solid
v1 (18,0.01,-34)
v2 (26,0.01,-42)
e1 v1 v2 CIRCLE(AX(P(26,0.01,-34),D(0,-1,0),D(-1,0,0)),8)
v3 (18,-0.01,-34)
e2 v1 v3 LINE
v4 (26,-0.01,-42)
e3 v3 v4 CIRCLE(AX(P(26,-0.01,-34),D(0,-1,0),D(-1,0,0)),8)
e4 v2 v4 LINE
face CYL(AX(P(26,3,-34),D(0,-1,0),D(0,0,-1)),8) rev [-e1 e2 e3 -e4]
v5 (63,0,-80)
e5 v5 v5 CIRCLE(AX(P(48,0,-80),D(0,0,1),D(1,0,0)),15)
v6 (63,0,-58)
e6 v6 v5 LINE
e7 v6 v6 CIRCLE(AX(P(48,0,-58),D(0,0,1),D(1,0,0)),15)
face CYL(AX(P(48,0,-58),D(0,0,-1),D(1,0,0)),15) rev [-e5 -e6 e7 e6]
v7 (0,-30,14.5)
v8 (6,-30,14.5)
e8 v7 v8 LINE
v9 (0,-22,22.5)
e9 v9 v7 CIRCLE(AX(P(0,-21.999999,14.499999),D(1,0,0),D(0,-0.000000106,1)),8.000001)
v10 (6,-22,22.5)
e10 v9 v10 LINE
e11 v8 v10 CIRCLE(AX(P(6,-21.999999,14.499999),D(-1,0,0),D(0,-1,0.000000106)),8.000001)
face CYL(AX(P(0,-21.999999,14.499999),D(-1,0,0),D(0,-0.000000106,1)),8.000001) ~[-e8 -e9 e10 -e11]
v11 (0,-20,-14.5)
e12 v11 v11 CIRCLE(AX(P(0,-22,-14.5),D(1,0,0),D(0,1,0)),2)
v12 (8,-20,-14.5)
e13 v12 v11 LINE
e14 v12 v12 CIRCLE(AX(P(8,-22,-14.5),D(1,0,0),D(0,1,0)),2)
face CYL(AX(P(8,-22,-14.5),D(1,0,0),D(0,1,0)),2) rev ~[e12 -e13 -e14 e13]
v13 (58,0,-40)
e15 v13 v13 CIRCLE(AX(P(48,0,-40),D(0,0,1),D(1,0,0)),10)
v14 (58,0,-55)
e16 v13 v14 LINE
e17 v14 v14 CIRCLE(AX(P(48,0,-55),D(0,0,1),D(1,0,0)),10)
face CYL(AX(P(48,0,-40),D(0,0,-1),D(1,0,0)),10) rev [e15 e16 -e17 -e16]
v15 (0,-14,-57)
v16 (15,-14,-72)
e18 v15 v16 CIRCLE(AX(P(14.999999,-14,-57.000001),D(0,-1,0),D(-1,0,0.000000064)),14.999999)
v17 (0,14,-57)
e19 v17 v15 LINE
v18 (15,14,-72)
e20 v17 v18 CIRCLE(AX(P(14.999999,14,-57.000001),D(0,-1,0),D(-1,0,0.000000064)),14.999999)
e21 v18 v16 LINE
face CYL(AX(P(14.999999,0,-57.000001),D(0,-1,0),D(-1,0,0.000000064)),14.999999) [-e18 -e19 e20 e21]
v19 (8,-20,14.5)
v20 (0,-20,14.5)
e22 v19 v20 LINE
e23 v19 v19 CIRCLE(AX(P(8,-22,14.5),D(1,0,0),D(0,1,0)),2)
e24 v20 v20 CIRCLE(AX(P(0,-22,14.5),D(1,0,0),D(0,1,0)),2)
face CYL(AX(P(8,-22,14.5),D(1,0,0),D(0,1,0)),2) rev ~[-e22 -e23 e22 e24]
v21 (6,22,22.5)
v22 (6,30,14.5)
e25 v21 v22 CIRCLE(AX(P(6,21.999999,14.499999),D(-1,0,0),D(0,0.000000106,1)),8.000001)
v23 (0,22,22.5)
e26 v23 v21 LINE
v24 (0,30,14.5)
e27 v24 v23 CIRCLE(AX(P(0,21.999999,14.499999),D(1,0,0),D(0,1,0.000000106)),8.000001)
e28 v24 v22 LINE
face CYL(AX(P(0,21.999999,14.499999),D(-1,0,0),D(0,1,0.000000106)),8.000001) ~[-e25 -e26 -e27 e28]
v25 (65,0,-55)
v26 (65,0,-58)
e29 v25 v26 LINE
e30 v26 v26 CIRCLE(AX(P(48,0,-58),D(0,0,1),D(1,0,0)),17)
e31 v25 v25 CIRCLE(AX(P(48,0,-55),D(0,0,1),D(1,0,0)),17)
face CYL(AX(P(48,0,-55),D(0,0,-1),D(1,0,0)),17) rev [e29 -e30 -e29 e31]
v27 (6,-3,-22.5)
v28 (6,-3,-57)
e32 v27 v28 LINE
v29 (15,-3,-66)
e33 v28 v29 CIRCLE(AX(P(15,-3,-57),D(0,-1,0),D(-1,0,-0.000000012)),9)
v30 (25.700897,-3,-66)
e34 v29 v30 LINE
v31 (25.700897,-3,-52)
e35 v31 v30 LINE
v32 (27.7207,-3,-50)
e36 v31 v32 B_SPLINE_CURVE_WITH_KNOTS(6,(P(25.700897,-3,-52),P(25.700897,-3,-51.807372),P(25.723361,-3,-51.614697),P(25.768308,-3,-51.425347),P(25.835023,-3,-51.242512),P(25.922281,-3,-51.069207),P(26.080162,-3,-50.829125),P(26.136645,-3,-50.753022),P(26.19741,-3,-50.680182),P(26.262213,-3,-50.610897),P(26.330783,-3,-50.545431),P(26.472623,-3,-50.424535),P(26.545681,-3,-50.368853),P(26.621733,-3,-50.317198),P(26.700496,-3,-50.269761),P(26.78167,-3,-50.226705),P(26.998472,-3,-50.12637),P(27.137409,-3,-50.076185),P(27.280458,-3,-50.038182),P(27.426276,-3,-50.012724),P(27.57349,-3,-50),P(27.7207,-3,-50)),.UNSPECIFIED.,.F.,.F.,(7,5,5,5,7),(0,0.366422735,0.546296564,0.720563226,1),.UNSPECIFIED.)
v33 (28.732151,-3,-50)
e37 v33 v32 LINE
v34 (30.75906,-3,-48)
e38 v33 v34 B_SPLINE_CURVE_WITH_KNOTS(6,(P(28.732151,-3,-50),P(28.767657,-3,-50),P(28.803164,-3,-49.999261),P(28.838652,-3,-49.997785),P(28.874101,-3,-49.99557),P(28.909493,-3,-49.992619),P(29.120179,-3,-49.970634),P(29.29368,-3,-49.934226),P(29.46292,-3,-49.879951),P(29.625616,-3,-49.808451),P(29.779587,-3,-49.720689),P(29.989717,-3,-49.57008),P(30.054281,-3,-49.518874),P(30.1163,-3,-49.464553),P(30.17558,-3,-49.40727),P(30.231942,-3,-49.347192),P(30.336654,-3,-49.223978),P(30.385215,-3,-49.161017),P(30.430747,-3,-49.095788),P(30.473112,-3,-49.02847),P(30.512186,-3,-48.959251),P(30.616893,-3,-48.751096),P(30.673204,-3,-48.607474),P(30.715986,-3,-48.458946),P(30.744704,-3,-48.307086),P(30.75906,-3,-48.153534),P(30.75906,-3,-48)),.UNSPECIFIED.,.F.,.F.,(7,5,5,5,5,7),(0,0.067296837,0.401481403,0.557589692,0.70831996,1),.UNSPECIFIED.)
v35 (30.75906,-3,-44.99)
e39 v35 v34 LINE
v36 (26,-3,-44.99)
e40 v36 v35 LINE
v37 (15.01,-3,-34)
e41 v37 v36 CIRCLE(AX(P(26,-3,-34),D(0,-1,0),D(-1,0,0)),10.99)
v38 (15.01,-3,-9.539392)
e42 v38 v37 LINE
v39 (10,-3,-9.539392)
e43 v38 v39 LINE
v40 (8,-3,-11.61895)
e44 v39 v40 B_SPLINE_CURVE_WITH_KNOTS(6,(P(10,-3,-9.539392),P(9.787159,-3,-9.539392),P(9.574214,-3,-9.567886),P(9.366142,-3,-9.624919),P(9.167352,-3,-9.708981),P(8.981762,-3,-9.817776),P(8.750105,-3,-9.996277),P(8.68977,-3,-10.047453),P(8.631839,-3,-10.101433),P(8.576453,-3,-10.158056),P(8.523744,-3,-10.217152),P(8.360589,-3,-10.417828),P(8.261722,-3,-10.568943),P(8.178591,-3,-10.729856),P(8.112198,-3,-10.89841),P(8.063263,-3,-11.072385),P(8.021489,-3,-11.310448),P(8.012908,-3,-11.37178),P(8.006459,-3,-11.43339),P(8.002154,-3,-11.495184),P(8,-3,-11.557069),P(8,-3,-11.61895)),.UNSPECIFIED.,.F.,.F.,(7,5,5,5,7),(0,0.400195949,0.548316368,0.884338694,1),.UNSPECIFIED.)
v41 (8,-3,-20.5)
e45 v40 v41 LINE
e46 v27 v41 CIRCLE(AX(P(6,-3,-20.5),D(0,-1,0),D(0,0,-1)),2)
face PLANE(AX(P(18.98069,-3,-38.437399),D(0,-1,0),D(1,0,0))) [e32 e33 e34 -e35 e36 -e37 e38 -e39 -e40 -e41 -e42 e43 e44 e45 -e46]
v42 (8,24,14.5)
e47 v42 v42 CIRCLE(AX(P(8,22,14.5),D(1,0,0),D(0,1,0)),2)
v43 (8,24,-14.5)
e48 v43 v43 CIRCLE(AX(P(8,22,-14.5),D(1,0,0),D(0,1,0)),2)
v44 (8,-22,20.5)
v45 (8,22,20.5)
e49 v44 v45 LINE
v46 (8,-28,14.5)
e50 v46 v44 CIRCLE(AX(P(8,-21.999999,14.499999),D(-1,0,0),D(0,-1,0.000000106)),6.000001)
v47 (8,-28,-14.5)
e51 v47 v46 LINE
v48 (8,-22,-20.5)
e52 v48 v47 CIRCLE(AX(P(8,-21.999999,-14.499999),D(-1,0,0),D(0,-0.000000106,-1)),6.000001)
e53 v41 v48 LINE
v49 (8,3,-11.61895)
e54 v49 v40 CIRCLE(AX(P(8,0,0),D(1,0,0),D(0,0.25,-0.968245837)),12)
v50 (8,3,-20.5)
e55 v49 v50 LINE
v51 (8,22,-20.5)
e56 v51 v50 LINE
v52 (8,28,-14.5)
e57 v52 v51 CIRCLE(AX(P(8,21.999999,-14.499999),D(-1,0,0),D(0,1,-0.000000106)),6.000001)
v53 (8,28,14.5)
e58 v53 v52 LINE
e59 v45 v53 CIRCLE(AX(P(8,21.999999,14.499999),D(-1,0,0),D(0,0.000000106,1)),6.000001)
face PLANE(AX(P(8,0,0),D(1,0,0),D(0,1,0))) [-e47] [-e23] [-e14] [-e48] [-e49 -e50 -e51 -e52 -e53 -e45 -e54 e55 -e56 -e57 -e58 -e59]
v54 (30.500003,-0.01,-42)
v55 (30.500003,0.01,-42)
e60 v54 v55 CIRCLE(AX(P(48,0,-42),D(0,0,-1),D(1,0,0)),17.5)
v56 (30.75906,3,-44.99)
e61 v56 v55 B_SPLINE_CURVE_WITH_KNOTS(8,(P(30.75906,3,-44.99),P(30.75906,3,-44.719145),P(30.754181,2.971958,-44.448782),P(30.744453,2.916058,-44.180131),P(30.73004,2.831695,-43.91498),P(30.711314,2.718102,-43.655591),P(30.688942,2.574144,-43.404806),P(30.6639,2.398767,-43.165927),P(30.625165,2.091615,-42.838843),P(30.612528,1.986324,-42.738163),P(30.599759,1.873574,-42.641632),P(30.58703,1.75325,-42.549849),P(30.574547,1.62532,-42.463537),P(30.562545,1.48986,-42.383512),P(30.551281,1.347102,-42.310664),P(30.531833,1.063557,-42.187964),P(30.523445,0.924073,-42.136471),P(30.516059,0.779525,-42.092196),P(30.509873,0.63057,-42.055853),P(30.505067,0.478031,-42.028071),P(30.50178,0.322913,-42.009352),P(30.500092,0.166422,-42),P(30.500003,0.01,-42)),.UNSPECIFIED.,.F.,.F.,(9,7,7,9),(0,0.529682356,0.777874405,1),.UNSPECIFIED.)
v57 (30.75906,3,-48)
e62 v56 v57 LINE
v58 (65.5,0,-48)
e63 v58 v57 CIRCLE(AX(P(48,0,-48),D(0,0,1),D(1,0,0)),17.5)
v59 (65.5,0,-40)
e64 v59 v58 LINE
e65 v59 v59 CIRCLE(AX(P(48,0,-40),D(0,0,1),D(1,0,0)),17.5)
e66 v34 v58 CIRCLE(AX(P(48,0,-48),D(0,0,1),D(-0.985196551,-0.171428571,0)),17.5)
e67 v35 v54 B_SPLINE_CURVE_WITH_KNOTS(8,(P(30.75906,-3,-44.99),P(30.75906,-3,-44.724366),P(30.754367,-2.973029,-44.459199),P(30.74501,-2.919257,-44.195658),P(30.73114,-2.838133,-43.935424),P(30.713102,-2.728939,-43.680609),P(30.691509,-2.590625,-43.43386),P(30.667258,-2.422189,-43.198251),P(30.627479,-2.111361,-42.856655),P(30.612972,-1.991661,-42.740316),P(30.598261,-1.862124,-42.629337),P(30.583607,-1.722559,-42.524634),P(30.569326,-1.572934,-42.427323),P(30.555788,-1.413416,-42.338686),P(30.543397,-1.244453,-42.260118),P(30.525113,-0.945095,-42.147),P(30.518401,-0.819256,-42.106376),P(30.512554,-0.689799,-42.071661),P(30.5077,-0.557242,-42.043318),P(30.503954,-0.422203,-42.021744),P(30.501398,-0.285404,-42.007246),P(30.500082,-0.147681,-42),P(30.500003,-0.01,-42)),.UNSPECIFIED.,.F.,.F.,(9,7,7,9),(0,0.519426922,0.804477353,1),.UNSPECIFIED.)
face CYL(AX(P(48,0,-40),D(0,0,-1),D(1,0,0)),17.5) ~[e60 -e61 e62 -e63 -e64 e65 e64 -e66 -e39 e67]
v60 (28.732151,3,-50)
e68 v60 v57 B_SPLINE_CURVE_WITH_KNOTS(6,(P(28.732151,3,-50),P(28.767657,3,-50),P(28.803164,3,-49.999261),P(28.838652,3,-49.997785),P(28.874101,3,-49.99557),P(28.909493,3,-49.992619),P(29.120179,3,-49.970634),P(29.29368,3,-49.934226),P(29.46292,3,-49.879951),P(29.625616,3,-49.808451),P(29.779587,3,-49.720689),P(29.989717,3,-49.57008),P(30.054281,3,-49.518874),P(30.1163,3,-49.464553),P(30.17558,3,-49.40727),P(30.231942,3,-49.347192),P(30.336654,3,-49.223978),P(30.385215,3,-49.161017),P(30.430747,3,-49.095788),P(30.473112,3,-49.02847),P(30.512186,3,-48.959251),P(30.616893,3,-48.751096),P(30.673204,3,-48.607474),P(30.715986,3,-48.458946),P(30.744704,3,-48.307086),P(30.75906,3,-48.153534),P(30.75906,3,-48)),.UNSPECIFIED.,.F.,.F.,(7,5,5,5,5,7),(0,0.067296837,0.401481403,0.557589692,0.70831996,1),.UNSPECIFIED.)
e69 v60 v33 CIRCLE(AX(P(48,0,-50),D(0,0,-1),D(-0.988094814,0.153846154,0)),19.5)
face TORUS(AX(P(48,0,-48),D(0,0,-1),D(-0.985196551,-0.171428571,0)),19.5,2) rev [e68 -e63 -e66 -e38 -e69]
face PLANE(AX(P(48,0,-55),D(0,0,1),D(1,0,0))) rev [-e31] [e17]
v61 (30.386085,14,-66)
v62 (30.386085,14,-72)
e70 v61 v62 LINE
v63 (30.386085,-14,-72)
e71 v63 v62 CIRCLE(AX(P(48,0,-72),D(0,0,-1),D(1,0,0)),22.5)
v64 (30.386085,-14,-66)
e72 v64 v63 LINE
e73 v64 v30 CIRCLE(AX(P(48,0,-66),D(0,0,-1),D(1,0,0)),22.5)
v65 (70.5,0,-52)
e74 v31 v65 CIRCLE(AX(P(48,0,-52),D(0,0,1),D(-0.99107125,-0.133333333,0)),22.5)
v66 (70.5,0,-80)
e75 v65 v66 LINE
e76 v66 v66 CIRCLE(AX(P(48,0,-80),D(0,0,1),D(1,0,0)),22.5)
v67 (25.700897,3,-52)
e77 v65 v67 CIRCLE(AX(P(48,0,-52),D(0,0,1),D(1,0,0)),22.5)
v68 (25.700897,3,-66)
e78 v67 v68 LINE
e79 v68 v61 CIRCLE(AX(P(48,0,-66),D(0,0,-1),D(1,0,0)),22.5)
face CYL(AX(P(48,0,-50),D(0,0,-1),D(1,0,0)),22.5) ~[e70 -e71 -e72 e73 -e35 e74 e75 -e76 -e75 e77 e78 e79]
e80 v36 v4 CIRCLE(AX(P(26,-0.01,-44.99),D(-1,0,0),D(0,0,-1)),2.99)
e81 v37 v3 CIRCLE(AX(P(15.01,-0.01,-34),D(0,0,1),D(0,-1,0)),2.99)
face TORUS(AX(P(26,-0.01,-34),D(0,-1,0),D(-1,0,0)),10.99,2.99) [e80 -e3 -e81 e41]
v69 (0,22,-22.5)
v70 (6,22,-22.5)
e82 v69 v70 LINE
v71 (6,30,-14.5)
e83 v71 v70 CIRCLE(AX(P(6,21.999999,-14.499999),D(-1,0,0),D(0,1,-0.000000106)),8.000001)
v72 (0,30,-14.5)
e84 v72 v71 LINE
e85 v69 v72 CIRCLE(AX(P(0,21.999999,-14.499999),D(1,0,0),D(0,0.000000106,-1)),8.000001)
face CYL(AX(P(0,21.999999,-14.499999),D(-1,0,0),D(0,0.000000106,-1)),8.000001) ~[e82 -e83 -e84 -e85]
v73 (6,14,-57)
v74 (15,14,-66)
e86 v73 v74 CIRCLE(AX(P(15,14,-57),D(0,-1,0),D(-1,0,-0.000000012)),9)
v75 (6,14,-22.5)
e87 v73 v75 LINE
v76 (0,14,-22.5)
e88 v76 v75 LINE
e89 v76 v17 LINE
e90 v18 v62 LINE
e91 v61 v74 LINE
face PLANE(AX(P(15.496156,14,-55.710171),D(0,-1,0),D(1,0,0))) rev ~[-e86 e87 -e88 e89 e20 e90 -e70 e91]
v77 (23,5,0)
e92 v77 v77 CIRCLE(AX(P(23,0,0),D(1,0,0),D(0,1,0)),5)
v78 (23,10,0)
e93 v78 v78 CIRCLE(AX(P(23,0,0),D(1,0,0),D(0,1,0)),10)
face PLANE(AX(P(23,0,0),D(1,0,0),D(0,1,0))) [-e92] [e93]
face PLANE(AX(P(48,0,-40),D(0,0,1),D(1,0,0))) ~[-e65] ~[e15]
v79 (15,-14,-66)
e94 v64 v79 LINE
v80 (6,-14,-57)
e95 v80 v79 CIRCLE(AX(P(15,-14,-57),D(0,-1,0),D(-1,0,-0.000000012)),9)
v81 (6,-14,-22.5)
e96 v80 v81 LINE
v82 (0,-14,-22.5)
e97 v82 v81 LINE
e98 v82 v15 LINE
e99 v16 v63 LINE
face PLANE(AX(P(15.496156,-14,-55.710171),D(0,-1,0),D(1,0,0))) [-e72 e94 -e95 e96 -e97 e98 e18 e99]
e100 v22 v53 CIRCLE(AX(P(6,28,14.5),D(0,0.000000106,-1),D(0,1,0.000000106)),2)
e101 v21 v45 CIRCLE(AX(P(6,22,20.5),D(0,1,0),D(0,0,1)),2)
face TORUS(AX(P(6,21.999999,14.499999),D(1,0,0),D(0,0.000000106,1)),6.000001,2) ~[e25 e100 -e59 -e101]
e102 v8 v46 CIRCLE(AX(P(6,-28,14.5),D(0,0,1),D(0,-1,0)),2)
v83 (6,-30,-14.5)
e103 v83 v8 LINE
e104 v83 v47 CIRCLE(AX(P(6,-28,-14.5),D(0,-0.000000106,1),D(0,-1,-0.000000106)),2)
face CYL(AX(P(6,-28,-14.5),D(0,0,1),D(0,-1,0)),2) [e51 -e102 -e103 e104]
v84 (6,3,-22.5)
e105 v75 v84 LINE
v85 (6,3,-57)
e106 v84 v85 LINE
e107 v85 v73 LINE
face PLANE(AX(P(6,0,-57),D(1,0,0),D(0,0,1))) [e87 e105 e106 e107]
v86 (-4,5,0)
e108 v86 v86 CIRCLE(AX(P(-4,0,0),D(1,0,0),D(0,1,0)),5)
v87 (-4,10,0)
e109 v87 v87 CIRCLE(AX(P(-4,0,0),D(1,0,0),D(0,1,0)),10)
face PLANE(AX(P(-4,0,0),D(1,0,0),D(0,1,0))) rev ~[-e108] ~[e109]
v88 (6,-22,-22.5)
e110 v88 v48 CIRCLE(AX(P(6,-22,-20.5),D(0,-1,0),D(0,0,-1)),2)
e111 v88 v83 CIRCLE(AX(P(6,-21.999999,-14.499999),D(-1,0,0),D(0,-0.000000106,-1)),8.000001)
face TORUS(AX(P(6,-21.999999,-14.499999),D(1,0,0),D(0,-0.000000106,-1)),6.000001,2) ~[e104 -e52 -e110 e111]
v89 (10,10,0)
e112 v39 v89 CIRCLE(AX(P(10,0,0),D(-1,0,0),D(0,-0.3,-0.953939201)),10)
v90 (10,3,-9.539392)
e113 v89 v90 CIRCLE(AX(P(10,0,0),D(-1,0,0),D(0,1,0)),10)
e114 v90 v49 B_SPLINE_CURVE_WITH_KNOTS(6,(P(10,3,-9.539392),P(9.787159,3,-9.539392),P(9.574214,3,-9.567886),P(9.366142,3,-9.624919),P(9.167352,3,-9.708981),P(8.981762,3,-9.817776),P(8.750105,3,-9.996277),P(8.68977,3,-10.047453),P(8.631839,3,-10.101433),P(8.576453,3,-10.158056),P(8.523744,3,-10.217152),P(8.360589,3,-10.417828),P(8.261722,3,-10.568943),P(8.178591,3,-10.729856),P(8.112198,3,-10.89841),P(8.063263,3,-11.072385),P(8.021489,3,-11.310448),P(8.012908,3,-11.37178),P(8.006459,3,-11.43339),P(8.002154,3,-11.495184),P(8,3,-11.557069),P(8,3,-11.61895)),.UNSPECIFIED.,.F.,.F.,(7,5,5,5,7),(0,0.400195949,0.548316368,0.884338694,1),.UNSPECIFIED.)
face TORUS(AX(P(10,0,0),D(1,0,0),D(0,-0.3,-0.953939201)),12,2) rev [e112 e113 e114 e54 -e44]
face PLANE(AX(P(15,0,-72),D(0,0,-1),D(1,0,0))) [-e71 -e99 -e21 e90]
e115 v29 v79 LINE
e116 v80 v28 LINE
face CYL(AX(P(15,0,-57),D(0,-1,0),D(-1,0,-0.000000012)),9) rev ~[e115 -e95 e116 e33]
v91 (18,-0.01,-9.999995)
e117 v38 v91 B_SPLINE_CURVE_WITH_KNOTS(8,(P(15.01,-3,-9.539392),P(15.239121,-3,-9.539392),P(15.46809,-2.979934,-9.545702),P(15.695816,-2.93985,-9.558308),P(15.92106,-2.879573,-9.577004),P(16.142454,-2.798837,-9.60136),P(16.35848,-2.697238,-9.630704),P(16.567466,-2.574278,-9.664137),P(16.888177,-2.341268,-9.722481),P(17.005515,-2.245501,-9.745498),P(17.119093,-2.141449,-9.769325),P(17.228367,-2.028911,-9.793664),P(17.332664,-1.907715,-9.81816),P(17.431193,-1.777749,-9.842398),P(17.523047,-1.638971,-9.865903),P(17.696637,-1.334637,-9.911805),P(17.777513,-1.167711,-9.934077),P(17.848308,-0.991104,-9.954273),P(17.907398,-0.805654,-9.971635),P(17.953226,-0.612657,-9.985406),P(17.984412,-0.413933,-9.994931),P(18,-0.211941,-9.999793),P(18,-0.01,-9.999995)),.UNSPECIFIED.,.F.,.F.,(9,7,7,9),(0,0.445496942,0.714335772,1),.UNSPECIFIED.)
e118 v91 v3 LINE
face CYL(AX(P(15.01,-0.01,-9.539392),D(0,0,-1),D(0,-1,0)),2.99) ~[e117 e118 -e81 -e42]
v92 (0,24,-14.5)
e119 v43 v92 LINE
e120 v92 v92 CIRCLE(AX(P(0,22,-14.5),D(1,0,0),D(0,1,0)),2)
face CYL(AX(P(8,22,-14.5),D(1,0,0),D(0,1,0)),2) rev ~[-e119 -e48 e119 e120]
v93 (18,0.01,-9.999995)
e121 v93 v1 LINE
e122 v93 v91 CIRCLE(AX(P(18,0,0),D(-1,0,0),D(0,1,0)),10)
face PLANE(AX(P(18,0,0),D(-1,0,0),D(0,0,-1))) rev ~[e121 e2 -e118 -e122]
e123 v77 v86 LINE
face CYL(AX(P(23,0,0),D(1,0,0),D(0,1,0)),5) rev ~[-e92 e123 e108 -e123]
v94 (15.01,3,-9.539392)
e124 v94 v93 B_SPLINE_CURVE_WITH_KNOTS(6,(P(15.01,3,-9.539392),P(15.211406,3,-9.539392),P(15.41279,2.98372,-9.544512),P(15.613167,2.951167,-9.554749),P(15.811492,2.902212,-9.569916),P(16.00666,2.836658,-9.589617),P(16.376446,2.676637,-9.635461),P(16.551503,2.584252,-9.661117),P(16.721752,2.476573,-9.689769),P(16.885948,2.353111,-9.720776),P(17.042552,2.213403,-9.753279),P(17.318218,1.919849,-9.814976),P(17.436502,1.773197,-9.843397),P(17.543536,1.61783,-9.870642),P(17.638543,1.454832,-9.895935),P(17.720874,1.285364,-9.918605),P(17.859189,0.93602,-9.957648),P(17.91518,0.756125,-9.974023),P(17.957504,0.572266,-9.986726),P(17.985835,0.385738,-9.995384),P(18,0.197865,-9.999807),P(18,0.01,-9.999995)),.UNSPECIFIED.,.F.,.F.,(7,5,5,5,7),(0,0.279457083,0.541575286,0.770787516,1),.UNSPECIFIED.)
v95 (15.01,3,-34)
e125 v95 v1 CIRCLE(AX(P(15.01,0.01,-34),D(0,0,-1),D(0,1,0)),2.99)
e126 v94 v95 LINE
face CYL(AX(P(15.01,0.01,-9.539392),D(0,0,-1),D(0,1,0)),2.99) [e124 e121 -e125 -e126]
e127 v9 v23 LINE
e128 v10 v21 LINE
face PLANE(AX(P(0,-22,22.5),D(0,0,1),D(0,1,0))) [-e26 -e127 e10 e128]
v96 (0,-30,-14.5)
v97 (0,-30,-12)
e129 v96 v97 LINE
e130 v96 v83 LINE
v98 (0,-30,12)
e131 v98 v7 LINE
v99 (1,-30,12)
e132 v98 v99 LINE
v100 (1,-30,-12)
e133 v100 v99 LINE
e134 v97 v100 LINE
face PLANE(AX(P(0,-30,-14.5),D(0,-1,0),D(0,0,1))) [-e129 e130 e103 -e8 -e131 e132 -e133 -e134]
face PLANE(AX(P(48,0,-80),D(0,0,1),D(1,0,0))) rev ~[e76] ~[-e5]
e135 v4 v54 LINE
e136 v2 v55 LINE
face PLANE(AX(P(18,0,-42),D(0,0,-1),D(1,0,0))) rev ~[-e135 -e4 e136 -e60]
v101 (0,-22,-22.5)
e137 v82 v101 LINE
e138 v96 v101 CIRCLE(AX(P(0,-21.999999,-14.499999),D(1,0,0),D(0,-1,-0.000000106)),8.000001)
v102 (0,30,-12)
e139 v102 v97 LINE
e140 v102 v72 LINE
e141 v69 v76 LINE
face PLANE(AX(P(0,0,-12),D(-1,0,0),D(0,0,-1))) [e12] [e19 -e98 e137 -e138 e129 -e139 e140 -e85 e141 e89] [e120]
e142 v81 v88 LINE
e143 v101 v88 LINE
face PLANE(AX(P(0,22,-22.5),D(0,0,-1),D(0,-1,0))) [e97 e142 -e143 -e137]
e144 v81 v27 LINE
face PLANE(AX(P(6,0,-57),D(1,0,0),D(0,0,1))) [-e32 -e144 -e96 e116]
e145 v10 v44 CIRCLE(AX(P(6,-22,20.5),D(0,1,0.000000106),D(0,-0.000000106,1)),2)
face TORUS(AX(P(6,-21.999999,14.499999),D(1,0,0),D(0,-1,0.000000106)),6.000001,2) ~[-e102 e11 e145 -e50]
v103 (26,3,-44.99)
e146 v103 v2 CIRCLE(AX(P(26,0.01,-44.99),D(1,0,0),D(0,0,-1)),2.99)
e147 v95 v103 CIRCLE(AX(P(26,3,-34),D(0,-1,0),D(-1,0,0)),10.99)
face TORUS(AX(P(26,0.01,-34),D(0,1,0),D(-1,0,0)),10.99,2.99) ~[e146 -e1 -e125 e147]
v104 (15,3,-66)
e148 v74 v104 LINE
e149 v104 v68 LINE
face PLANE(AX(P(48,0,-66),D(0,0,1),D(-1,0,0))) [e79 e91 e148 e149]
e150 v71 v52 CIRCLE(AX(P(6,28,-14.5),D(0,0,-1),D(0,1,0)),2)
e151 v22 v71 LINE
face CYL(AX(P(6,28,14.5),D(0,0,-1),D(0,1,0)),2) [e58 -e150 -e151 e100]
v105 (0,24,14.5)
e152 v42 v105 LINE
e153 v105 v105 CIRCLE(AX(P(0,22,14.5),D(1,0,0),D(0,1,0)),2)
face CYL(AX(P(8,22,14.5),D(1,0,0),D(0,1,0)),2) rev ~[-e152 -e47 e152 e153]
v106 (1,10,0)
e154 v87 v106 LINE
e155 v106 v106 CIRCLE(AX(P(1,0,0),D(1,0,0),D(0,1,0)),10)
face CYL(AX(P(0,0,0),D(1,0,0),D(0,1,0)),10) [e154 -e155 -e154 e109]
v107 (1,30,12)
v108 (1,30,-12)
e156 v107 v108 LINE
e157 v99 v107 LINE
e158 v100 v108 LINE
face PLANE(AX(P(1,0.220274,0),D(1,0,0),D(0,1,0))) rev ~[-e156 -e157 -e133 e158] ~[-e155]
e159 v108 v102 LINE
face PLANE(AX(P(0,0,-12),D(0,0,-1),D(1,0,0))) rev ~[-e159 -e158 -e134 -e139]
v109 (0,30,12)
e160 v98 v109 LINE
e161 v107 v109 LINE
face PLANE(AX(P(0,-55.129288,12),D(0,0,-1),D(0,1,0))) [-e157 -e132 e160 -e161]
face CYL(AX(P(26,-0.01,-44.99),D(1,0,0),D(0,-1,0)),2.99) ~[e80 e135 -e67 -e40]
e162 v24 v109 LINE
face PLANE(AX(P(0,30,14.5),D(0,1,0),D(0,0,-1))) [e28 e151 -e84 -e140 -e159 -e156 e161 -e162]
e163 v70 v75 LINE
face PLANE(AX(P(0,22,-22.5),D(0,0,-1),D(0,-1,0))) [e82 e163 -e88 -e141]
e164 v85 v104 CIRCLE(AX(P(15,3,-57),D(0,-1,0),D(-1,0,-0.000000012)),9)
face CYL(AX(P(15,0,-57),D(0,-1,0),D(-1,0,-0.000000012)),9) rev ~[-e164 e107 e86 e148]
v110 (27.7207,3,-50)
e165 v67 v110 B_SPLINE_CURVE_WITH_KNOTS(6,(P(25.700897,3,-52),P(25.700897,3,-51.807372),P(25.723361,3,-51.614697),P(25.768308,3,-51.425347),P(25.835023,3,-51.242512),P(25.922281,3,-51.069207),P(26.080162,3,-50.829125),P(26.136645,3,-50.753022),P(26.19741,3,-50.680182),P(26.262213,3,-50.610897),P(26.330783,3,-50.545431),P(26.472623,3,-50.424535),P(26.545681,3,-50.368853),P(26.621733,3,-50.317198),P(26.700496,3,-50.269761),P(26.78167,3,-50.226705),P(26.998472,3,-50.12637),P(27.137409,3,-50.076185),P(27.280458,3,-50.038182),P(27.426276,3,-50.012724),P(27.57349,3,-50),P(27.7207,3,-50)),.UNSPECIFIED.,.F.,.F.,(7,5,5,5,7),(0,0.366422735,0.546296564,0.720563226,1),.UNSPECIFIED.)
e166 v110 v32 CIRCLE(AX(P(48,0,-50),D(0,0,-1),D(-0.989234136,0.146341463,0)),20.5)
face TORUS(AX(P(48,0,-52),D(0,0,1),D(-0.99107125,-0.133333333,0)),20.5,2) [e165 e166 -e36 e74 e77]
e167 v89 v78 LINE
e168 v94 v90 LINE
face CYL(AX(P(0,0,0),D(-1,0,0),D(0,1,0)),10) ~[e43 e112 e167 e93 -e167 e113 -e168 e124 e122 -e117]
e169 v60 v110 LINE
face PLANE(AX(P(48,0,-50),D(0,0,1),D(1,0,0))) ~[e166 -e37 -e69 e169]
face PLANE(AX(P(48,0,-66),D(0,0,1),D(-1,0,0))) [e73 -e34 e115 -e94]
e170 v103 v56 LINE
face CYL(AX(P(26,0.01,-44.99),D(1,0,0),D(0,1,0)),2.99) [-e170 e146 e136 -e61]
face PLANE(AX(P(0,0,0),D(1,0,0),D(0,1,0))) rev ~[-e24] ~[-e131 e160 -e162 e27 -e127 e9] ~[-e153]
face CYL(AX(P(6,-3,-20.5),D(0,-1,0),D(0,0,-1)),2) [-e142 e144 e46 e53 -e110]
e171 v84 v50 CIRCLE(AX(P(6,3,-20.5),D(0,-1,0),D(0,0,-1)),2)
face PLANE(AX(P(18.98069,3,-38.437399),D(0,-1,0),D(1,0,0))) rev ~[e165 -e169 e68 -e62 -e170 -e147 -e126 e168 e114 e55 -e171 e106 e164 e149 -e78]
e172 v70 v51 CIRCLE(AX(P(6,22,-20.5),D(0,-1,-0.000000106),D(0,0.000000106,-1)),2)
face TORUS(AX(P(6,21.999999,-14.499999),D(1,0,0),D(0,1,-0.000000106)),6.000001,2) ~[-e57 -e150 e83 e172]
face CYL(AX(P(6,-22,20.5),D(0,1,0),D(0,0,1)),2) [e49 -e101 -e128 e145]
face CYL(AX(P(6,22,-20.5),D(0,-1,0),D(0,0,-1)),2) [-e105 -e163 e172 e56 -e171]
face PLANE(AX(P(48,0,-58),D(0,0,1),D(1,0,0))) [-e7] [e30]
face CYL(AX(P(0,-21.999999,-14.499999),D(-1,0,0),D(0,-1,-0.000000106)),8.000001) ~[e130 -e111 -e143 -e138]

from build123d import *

# Parameters (mm, degrees)
PAD_DEPTH         = 8
SKETCH001_W       = 110.699124
SKETCH001_H       = 24
POCKET_DEPTH      = 1
SKETCH002_R       = 10
PAD001_DEPTH      = 23
PAD001_DEPTH_BACK = 4
PAD002_DEPTH      = 14
PAD003_DEPTH      = 3
FILLET_R          = 8
SKETCH006_R       = 5
POCKET001_DEPTH   = 27.001
FILLET001_R       = 2
FILLET002_R       = 2
FILLET003_R       = 2
FILLET004_R       = 2.99
SKETCH008_R       = 2
POCKET002_DEPTH   = 12.001


with BuildPart() as part:
    # Sketch → Pad (new body)
    with BuildSketch(Plane.YZ):
        with BuildLine():
            ThreePointArc((-22, 22.5), (-27.656854, 20.156854), (-30, 14.5))
            Line((-30, -14.5), (-30, 14.5))
            ThreePointArc((-30, -14.5), (-27.656854, -20.156854), (-22, -22.5))
            Line((22, -22.5), (-22, -22.5))
            ThreePointArc((22, -22.5), (27.656854, -20.156854), (30, -14.5))
            Line((30, 14.5), (30, -14.5))
            ThreePointArc((30, 14.5), (27.656854, 20.156854), (22, 22.5))
            Line((-22, 22.5), (22, 22.5))
        make_face()
    extrude(amount=PAD_DEPTH)

    # Sketch001 → Pocket (cut, symmetric)
    with BuildSketch(Plane.YZ):
        with Locations((0.220274, 0)):
            Rectangle(SKETCH001_W, SKETCH001_H)
    extrude(amount=POCKET_DEPTH, both=True, mode=Mode.SUBTRACT)

    # Sketch002 → Pad001 (join, two sides)
    with BuildSketch(Plane.YZ) as pad001_sk:
        Circle(SKETCH002_R)
    extrude(amount=PAD001_DEPTH)
    extrude(pad001_sk.sketch, amount=-PAD001_DEPTH_BACK)

    # Sketch003 → Pad002 (join, symmetric)
    with BuildSketch(Plane.XZ):
        with BuildLine():
            Line((0, -22.5), (0, -57))
            ThreePointArc((0, -57), (4.393398, -67.606602), (15, -72))
            Line((15, -72), (48, -72))
            Line((48, -72), (48, -66))
            Line((48, -66), (15, -66))
            ThreePointArc((6, -57), (8.636039, -63.363961), (15, -66))
            Line((6, -57), (6, -22.5))
            Line((0, -22.5), (6, -22.5))
        make_face()
    extrude(amount=PAD002_DEPTH, both=True)

    # Sketch004 → Revolution (revolve)
    with BuildSketch(Plane.XZ):
        Polygon((48, -80), (48, -40), (65.5, -40), (65.5, -50), (70.5, -50), (70.5, -80), align=None)
    revolve(axis=Axis((48, 0, -80), (0, 0, 1)))

    # Sketch005 → Pad003 (join, symmetric)
    with BuildSketch(Plane.XZ):
        with BuildLine():
            Line((0, -12), (0, -57))
            ThreePointArc((0, -57), (2.928932, -64.071068), (10, -67))
            Line((48, -67), (10, -67))
            Line((48, -42), (48, -67))
            Line((18, -42), (48, -42))
            Line((18, 0), (18, -42))
            Line((1, 0), (18, 0))
            Line((1, -12), (1, 0))
            Line((0, -12), (1, -12))
        make_face()
    extrude(amount=PAD003_DEPTH, both=True)

    # Fillet
    fillet_edges = [part.edges().sort_by_distance(p)[0] for p in [
        (18, 0, -42),
    ]]
    fillet(fillet_edges, radius=FILLET_R)

    # Sketch006 (on Face16 of Fillet) → Pocket001 (cut, through all)
    with BuildSketch(Plane.YZ.offset(23)):
        Circle(SKETCH006_R)
    extrude(amount=-POCKET001_DEPTH, mode=Mode.SUBTRACT)

    # Fillet001
    fillet001_edges = [part.edges().sort_by_distance(p)[0] for p in [
        (8, -5.91608, 8.062258),
    ]]
    fillet(fillet001_edges, radius=FILLET001_R)

    # Fillet002
    fillet002_edges = [part.edges().sort_by_distance(p)[0] for p in [
        (8, 0, 22.5),
    ]]
    fillet(fillet002_edges, radius=FILLET002_R)

    # Sketch007 → Groove (revolve, cut)
    with BuildSketch(Plane.XZ):
        Polygon((48, -40), (58, -40), (58, -55), (65, -55), (65, -58), (63, -58), (63, -80), (48, -80), align=None)
    revolve(axis=Axis((48, 0, -80), (0, 0, 1)), mode=Mode.SUBTRACT)

    # Fillet003
    fillet003_edges = [part.edges().sort_by_distance(p)[0] for p in [
        (49.505582, -17.435115, -50),
        (49.50336, -22.44972, -50),
    ]]
    fillet(fillet003_edges, radius=FILLET003_R)

    # Fillet004
    fillet004_edges = [part.edges().sort_by_distance(p)[0] for p in [
        (18, -3, -21.769696),
        (18, 3, -21.769696),
    ]]
    fillet(fillet004_edges, radius=FILLET004_R)

    # Sketch008 (on Face13 of Fillet004) → Pocket002 (cut, through all)
    with BuildSketch(Plane.YZ.offset(8)):
        with Locations((-22, 14.5)):
            Circle(SKETCH008_R)
        with Locations((22, 14.5)):
            Circle(SKETCH008_R)
        with Locations((22, -14.5)):
            Circle(SKETCH008_R)
        with Locations((-22, -14.5)):
            Circle(SKETCH008_R)
    extrude(amount=-POCKET002_DEPTH, mode=Mode.SUBTRACT)


solid = part.part
